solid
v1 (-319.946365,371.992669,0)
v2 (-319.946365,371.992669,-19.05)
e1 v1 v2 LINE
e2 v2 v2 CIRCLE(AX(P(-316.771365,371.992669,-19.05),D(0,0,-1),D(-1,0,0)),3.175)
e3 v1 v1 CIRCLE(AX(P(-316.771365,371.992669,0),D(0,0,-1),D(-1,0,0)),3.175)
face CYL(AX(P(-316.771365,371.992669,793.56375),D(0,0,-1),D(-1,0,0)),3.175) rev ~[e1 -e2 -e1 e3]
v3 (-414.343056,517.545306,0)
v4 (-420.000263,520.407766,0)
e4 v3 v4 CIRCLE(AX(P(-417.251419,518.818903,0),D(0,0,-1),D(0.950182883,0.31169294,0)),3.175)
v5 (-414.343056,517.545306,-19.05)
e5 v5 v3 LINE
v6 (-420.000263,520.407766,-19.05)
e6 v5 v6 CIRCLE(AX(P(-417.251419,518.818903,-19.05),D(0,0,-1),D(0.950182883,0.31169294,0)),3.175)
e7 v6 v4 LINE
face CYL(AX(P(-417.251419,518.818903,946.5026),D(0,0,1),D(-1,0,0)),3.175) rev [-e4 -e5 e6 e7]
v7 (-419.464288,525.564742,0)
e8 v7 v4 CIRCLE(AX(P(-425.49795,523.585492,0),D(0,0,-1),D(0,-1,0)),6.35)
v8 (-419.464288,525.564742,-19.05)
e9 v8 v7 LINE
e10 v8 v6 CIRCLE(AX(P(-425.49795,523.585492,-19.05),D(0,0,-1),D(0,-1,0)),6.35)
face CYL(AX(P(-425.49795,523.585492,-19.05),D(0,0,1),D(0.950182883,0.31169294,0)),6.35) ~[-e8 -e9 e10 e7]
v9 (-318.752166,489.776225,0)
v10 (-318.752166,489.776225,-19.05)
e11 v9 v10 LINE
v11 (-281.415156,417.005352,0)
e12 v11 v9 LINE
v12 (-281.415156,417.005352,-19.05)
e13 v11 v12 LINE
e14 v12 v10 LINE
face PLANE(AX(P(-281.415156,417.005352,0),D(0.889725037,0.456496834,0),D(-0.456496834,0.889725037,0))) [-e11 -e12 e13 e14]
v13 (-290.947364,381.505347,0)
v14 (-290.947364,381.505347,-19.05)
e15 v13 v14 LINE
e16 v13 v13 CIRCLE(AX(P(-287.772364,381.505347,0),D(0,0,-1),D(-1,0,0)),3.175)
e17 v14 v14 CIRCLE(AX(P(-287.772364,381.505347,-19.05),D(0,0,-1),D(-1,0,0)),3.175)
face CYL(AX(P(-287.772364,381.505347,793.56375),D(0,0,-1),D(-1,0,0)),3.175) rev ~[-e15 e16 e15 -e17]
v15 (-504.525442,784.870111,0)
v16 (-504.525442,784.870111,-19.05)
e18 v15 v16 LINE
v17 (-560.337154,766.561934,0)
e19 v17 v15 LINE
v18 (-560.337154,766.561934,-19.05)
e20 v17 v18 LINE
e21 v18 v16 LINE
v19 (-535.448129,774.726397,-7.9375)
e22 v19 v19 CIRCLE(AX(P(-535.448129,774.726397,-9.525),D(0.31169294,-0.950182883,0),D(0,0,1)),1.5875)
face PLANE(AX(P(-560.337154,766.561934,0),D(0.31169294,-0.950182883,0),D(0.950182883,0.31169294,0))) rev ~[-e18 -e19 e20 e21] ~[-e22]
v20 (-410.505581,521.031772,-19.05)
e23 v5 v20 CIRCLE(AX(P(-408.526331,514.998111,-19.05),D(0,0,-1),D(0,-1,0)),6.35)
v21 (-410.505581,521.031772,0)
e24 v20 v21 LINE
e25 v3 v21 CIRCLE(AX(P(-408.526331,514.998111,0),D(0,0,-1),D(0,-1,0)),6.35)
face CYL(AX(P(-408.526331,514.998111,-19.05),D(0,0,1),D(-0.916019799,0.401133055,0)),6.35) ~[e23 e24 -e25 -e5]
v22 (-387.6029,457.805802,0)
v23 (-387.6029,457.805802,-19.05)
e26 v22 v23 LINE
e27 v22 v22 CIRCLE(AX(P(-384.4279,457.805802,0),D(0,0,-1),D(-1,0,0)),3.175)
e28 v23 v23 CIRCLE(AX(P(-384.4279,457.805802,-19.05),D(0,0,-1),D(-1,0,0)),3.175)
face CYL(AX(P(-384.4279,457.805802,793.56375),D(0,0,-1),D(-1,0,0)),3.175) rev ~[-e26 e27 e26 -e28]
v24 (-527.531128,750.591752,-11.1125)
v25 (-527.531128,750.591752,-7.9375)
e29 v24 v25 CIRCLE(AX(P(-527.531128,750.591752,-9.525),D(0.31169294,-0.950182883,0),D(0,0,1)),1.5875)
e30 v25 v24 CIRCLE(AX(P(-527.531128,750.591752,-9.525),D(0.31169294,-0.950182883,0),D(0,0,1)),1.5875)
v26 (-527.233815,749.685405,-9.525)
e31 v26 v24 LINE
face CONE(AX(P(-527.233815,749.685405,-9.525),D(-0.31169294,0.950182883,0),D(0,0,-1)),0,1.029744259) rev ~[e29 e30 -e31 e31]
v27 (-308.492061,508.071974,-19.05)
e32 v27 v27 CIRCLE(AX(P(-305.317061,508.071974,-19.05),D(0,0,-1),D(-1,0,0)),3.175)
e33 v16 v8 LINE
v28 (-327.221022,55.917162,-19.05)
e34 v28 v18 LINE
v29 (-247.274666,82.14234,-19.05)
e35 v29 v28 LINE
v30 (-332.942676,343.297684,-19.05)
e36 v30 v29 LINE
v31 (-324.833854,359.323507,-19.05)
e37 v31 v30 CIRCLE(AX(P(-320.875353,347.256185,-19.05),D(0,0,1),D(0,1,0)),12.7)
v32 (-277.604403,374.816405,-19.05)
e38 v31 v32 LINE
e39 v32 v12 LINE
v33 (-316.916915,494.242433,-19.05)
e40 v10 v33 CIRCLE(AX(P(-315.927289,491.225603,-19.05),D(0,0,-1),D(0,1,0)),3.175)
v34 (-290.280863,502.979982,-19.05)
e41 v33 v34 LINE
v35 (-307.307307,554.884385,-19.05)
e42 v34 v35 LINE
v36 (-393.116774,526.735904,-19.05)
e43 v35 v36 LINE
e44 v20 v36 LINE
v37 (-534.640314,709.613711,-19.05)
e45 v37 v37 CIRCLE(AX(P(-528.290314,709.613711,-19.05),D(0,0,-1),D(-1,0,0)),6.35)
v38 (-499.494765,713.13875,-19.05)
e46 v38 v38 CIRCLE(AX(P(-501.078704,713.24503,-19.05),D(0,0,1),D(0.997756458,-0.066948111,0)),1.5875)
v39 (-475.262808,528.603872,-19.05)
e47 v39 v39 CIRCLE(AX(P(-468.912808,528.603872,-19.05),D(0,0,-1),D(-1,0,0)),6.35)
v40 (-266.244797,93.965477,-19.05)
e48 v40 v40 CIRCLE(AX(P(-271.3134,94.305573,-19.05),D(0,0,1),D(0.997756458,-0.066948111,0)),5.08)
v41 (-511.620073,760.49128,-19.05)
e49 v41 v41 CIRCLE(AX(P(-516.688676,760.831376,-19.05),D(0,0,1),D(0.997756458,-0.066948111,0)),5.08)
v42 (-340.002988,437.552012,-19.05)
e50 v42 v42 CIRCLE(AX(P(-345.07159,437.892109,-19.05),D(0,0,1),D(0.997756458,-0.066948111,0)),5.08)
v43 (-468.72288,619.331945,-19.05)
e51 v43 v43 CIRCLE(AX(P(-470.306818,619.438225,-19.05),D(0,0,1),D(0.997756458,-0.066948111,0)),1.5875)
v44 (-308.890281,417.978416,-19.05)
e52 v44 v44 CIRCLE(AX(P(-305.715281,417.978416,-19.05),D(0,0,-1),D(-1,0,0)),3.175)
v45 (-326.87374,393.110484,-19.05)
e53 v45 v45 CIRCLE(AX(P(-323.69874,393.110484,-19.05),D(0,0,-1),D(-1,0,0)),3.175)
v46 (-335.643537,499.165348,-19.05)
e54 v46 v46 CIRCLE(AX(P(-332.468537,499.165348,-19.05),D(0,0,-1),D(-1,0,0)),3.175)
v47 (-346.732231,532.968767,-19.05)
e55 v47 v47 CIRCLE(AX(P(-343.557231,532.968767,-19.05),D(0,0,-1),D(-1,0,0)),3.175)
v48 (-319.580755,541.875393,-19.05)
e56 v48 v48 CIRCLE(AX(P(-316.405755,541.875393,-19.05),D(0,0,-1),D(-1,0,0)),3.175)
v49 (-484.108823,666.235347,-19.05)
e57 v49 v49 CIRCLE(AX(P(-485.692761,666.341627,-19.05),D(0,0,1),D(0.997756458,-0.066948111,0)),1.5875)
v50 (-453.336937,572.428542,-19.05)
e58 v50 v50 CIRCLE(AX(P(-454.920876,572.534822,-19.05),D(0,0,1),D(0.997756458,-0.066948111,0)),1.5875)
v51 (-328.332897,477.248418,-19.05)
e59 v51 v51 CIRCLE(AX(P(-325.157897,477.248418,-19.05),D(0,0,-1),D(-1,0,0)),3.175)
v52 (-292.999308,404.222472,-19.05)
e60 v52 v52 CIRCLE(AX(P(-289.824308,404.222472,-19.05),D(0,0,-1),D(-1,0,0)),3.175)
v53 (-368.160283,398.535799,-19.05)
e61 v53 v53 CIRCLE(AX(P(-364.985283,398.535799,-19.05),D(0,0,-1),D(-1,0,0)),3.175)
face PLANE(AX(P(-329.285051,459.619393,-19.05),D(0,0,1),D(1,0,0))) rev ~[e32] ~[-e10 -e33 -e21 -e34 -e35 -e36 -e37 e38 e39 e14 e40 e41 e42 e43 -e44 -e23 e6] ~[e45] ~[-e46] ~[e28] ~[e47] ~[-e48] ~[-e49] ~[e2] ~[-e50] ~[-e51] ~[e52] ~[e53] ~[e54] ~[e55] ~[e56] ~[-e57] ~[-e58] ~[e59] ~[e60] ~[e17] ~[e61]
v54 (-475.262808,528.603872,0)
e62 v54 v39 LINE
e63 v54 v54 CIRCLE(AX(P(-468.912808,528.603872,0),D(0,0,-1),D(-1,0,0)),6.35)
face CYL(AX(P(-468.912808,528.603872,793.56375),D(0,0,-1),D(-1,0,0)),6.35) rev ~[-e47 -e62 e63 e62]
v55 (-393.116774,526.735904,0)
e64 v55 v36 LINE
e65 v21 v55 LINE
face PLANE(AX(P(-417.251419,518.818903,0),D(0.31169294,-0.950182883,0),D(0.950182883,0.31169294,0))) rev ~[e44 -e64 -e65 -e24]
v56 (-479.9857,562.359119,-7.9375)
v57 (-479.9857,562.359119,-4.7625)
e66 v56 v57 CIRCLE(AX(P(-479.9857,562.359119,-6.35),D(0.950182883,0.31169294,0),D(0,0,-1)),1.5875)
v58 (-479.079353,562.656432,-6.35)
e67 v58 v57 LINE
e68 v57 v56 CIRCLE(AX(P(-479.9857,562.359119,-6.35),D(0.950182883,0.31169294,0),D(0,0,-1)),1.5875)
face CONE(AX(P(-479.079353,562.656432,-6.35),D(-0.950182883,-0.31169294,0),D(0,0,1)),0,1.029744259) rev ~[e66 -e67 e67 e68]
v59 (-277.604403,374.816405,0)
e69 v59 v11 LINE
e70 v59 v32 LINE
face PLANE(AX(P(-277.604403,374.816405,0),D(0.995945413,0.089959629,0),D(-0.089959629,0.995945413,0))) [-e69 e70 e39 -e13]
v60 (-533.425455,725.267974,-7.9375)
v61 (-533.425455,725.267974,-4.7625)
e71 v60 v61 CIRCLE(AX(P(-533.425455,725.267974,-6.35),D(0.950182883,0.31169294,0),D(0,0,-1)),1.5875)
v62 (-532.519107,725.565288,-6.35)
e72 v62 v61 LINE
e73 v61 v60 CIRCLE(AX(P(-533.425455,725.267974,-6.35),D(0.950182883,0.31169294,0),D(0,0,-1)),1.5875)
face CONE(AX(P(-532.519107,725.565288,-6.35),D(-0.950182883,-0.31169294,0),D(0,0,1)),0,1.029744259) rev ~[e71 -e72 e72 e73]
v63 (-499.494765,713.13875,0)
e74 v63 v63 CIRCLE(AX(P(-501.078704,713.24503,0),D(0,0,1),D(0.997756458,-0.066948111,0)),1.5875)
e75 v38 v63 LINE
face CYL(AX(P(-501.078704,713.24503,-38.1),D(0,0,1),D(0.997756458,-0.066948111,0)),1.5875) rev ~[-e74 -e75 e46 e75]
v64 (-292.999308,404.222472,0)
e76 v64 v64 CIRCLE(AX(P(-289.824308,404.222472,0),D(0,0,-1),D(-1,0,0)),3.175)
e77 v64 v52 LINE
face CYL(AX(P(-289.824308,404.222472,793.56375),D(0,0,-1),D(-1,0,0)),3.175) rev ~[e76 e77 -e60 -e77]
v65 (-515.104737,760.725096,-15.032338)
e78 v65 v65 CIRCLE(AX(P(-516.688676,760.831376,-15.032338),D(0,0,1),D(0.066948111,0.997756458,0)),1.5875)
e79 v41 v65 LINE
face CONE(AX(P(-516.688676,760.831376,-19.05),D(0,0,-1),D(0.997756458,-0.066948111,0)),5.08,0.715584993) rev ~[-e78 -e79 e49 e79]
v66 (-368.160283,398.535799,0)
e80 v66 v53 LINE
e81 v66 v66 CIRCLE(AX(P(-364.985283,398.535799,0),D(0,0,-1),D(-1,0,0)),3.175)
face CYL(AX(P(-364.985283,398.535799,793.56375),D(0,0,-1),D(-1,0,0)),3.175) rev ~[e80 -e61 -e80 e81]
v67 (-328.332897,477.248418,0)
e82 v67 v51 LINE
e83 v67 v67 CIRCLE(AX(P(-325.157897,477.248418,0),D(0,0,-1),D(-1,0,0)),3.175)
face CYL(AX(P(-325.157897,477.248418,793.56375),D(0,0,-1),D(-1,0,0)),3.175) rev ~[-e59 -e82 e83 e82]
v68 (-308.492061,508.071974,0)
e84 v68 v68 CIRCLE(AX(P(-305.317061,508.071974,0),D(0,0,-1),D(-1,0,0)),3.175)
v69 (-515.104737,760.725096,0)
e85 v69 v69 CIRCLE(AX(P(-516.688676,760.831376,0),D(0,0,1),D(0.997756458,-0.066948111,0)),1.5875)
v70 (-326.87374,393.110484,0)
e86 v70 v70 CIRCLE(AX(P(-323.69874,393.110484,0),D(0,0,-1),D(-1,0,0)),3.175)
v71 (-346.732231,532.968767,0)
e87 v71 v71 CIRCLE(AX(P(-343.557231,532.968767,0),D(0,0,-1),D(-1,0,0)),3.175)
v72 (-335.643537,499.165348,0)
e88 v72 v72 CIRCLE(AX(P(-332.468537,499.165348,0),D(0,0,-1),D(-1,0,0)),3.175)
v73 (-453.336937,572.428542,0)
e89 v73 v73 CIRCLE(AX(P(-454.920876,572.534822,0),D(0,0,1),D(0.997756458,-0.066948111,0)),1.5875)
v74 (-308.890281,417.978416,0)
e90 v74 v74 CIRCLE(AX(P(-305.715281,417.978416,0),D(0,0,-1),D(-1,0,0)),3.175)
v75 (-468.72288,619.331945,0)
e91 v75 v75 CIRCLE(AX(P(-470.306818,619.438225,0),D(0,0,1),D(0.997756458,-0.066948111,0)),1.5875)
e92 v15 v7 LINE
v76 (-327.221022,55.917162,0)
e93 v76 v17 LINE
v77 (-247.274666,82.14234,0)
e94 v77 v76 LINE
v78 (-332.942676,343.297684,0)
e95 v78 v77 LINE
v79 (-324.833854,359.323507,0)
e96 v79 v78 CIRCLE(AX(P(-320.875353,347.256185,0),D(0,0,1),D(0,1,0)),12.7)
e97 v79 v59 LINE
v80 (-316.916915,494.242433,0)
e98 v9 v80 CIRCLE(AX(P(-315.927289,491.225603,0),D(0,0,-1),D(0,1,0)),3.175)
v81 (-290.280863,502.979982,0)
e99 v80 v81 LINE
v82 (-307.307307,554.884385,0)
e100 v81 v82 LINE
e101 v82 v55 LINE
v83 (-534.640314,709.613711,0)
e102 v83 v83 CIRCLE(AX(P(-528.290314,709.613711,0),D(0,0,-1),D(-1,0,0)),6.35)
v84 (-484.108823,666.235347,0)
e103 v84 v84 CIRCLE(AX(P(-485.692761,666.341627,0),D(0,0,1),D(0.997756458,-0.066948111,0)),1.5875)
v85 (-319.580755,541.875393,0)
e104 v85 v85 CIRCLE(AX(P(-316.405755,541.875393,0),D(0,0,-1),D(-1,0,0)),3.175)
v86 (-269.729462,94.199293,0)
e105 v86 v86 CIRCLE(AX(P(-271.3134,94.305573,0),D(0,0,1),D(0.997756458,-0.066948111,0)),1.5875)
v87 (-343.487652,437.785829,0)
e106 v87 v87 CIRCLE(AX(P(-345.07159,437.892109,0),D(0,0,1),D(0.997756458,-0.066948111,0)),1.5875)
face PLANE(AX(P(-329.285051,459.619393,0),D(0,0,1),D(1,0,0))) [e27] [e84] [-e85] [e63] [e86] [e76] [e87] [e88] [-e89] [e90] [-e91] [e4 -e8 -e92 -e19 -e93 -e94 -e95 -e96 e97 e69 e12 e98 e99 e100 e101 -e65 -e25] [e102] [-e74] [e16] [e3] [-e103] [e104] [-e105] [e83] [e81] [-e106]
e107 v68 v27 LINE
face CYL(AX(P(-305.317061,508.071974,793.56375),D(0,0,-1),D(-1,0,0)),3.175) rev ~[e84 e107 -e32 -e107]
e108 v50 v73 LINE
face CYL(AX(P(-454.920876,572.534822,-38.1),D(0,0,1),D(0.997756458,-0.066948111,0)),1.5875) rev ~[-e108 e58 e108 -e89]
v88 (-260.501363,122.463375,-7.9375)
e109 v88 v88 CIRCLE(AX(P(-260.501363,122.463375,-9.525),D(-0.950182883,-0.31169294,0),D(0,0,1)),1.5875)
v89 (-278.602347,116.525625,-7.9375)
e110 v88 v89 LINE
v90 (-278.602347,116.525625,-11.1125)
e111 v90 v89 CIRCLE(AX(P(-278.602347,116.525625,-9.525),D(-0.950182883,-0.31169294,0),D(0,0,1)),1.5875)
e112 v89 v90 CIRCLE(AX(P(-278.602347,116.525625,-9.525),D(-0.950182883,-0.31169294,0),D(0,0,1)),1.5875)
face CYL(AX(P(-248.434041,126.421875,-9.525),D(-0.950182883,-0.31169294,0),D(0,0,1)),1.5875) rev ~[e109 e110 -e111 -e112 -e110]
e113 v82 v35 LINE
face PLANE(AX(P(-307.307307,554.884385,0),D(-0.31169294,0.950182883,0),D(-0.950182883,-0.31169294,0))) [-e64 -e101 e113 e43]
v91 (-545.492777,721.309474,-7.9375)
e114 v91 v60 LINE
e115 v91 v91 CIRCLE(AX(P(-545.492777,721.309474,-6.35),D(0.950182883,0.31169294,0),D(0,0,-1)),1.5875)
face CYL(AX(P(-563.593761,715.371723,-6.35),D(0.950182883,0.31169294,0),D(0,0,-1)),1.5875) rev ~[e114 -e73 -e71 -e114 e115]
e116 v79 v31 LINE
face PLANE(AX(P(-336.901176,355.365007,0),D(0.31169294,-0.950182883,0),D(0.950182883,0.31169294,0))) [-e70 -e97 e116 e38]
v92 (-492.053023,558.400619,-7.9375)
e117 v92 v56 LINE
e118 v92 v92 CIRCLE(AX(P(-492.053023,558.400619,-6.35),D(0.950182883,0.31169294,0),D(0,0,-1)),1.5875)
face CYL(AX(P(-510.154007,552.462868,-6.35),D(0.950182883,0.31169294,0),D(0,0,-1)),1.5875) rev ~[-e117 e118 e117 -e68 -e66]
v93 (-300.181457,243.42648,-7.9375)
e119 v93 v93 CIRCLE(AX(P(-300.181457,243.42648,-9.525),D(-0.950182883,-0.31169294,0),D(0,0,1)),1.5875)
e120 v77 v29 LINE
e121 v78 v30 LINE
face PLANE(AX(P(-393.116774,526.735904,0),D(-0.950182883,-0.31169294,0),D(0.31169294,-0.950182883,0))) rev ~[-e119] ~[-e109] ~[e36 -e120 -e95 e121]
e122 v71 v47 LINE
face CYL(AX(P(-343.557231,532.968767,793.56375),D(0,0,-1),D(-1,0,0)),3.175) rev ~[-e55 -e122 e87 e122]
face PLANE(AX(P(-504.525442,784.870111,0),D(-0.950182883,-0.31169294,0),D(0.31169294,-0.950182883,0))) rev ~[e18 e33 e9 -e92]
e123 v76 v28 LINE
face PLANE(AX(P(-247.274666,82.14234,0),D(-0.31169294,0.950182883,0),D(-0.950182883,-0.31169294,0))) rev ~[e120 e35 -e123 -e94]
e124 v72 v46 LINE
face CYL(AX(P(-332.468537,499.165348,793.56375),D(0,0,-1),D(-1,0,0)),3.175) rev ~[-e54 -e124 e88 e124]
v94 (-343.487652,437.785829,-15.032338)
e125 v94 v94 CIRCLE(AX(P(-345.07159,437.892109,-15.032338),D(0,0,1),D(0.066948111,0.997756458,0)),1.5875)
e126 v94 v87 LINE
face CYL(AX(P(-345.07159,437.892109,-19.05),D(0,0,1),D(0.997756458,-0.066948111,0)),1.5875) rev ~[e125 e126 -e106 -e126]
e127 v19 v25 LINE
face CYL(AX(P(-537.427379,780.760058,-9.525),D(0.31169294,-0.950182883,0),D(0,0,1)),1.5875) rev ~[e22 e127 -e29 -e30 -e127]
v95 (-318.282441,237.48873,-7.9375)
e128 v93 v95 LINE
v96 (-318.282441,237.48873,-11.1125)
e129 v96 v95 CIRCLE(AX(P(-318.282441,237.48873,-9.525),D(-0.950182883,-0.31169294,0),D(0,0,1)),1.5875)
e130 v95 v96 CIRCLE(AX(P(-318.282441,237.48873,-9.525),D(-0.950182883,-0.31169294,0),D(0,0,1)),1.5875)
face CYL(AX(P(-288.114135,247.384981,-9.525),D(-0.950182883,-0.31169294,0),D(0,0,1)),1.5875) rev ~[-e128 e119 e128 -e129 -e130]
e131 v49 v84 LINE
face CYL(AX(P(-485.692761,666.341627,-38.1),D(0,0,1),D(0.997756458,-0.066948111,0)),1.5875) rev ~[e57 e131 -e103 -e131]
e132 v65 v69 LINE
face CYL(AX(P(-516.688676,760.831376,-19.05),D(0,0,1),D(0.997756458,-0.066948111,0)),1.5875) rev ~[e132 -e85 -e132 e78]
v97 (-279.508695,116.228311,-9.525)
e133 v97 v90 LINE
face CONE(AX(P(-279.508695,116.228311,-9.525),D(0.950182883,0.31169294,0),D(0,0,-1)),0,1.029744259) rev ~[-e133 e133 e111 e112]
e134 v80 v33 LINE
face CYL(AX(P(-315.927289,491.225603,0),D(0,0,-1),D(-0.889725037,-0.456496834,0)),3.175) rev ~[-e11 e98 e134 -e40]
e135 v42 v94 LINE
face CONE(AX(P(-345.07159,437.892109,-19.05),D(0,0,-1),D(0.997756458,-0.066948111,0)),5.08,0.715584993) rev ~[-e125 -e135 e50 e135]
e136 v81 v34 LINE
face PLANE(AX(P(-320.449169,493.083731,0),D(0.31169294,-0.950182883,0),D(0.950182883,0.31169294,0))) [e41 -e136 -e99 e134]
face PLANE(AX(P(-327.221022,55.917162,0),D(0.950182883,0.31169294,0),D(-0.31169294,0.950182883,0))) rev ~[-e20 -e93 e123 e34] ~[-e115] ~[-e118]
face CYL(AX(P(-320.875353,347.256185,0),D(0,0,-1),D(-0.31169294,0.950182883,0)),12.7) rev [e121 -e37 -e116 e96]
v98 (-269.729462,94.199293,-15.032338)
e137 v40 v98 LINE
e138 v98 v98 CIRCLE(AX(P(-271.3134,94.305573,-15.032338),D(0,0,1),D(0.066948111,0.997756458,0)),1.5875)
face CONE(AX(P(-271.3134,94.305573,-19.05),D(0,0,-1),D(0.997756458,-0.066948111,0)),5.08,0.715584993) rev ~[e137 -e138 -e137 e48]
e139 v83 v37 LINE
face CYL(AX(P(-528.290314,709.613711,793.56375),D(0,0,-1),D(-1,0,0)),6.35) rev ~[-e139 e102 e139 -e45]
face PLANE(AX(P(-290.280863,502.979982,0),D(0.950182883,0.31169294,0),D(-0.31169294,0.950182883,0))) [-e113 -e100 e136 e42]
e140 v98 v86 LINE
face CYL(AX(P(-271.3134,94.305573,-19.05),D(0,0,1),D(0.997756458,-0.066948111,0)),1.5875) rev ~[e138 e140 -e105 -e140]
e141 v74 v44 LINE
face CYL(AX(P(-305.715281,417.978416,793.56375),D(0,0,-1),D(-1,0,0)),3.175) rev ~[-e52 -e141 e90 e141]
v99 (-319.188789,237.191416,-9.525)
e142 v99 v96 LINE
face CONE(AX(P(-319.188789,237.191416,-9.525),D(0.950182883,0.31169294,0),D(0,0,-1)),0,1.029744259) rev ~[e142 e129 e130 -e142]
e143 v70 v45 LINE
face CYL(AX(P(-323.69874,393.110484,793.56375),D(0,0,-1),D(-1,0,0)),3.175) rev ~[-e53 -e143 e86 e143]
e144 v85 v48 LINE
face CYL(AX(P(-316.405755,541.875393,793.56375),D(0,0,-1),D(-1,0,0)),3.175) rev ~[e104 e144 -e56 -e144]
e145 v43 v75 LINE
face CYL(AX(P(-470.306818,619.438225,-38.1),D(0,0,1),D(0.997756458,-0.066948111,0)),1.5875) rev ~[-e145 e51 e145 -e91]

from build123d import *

# Parameters (mm, degrees)
BOSS_EXTRUDE1_DEPTH        = 19.05
BOSS_EXTRUDE2_DEPTH        = 19.05
FILLET1_R                  = 3.175
FILLET2_R                  = 12.7
CUT_EXTRUDE1_DEPTH         = 965.552600368
CUT_EXTRUDE1_DEPTH_BACK    = 965.552600368
SKETCH47_R                 = 3.175
FILLET4_R                  = 6.35
F_0_25_DIAMETER_HOLE1_D    = 6.35
HOLE6_D                    = 3.175
HOLE6_DEPTH                = 38.1
HOLE6_CSINK_D              = 10.16
HOLE6_CSINK_ANGLE          = 82
HOLE6_TIP                  = 0.953866233
HOLE9_D                    = 3.175
HOLE9_DEPTH                = 57.15
HOLE9_CSINK_D              = 10.16
HOLE9_CSINK_ANGLE          = 82
HOLE9_TIP                  = 0.953866233
HOLE14_D                   = 3.175
HOLE14_DEPTH               = 31.75
HOLE14_CSINK_D             = 10.16
HOLE14_CSINK_ANGLE         = 82
HOLE14_TIP                 = 0.953866233
HOLE15_D                   = 3.175
HOLE15_DEPTH               = 31.75
HOLE15_CSINK_D             = 10.16
HOLE15_CSINK_ANGLE         = 82
HOLE15_TIP                 = 0.953866233
HOLE17_D                   = 3.175
HOLE17_DEPTH               = 31.75
HOLE17_CSINK_D             = 10.16
HOLE17_CSINK_ANGLE         = 82
HOLE17_TIP                 = 0.953866233
F_1_2_0_5_DIAMETER_HOLE3_D = 12.7


with BuildPart() as part:
    # Sketch1 → Boss-Extrude1 (new body)
    with BuildSketch(Plane.XY):
        Polygon((-247.274665566, 82.142339986), (-327.22102196, 55.917162383), (-560.337153612, 766.561933763), (-504.525442447, 784.870110692), (-417.251419261, 518.818903446), (-393.116774032, 526.735904121), align=None)
    extrude(amount=-BOSS_EXTRUDE1_DEPTH)

    # Sketch2 → Boss-Extrude2 (add, through all)
    with BuildSketch(Plane.XY):
        Polygon((-393.116774032, 526.735904121), (-336.901176267, 355.36500697), (-277.604402796, 374.816405204), (-281.415155825, 417.005352091), (-320.44916939, 493.083731154), (-290.280862854, 502.979981998), (-307.307307279, 554.884385267), align=None)
    extrude(amount=-BOSS_EXTRUDE2_DEPTH)

    # Fillet1
    fillet1_edges = [part.edges().sort_by_distance(p)[0] for p in [
        (-320.44916939, 493.083731154, -9.525),
    ]]
    fillet(fillet1_edges, radius=FILLET1_R)

    # Fillet2
    fillet2_edges = [part.edges().sort_by_distance(p)[0] for p in [
        (-336.901176267, 355.36500697, -9.525),
    ]]
    fillet(fillet2_edges, radius=FILLET2_R)

    # Sketch47 → Cut-Extrude1 (cut, two sides: drawn at the far end of the back side and taken through both)
    with BuildSketch(Plane(origin=(0, 0, -19.05), x_dir=(-1, 0, 0), z_dir=(0, 0, -1)).offset(-CUT_EXTRUDE1_DEPTH_BACK)):
        with Locations((417.251419261, 518.818903446)):
            Circle(SKETCH47_R)
    extrude(amount=CUT_EXTRUDE1_DEPTH + CUT_EXTRUDE1_DEPTH_BACK, mode=Mode.SUBTRACT)

    # Fillet4
    fillet4_edges = [part.edges().sort_by_distance(p)[0] for p in [
        (-418.241044345, 521.8357341, -9.525),
        (-414.234588607, 519.80852853, -9.525),
    ]]
    fillet(fillet4_edges, radius=FILLET4_R)

    # 0.25_ Diameter Hole1 (through all)
    with Locations(Plane.XY):
        with Locations((-563.45033927, 698.544682362), (-504.072834209, 517.534843147), (-343.557230523, 532.968767209), (-316.40575464, 541.875392969), (-305.317060721, 508.071973621), (-332.468536604, 499.165347862), (-384.427899865, 457.805801818), (-325.157897499, 477.248418201), (-305.715281117, 417.978415836), (-364.985283482, 398.535799453), (-323.698740376, 393.110483865), (-289.824308357, 404.222472403), (-287.772364418, 381.505347156), (-316.771364786, 371.99266929)):
            Hole(F_0_25_DIAMETER_HOLE1_D / 2)

    # Hole6
    with Locations(Plane(origin=(313.774034822, -375.700785937, -19.05), x_dir=(-0.9977564584489054, 0.06694811142592419, 0), z_dir=(0, 0, -1))):
        with Locations((615.24080496, 429.781381762), (710.914924699, 391.126528253), (904.68821492, 1078.38439498), (976.811864753, 1049.244548945), (835.937309391, 717.51890547), (711.83598555, 767.659094962)):
            CounterSinkHole(HOLE6_D / 2, HOLE6_CSINK_D / 2, depth=HOLE6_DEPTH, counter_sink_angle=HOLE6_CSINK_ANGLE)
            with Locations((0, 0, -(HOLE6_DEPTH + HOLE6_TIP / 2))):  # 118° drill point
                Cone(0, HOLE6_D / 2, HOLE6_TIP, mode=Mode.SUBTRACT)

    # Hole9
    with Locations(Plane(origin=(313.774034822, -375.700785937, -38.1), x_dir=(-0.9977564584489054, 0.06694811142592419, 0), z_dir=(0, 0, -1))):
        with Locations((848.944412528, 940.413642522), (885.927448463, 1031.949868564), (867.435930496, 986.181755543), (830.452894561, 894.645529501)):
            CounterSinkHole(HOLE9_D / 2, HOLE9_CSINK_D / 2, depth=HOLE9_DEPTH, counter_sink_angle=HOLE9_CSINK_ANGLE)
            with Locations((0, 0, -(HOLE9_DEPTH + HOLE9_TIP / 2))):  # 118° drill point
                Cone(0, HOLE9_D / 2, HOLE9_TIP, mode=Mode.SUBTRACT)

    # Hole14
    with Locations(Plane(origin=(-45.102820315, -493.424841018, 72.024999997), x_dir=(0, 0, -1), z_dir=(0.9501828830204607, 0.31169293995040287, 1.2726359102629282e-15))):
        with Locations((174.999999994, 685.961004241), (174.999999994, 549.837259632), (174.999999994, 413.713515022), (81.549999997, 779.649723129), (81.549999997, 652.344645962), (62.499999997, 662.953402392), (62.499999997, 769.040966698), (-62.499999997, 769.040966698), (-62.499999997, 662.953402392), (-81.549999997, 652.344645962), (-81.549999997, 779.649723129), (-174.999999994, 413.713515022), (-174.999999994, 549.837259632), (-174.999999994, 685.961004241), (-82.737499997, 600.384620239), (0, 600.384620239), (82.737499997, 600.384620239), (0, 376.737770337), (-82.737499997, 376.737770337), (82.737499997, 376.737770337)):
            CounterSinkHole(HOLE14_D / 2, HOLE14_CSINK_D / 2, depth=HOLE14_DEPTH, counter_sink_angle=HOLE14_CSINK_ANGLE)
            with Locations((0, 0, -(HOLE14_DEPTH + HOLE14_TIP / 2))):  # 118° drill point
                Cone(0, HOLE14_D / 2, HOLE14_TIP, mode=Mode.SUBTRACT)

    # Hole15
    with Locations(Plane(origin=(-155.217483245, -529.546269464, 72.024999997), x_dir=(0, 0, 1), z_dir=(-0.9501828830204603, -0.3116929399504042, -1.2203303954814629e-15))):
        with Locations((-78.374999997, 1310.187770338), (-78.374999997, 1138.737770338), (78.374999997, 1138.737770338), (78.374999997, 1310.187770338)):
            CounterSinkHole(HOLE15_D / 2, HOLE15_CSINK_D / 2, depth=HOLE15_DEPTH, counter_sink_angle=HOLE15_CSINK_ANGLE)
            with Locations((0, 0, -(HOLE15_DEPTH + HOLE15_TIP / 2))):  # 118° drill point
                Cone(0, HOLE15_D / 2, HOLE15_TIP, mode=Mode.SUBTRACT)

    # Hole17
    with Locations(Plane(origin=(-111.425869636, 920.503328092, 72.024999997), x_dir=(0, 0, -1), z_dir=(-0.31169293995040415, 0.9501828830204603, 0))):
        with Locations((81.549999997, 448.336332751), (-81.549999997, 448.336332751)):
            CounterSinkHole(HOLE17_D / 2, HOLE17_CSINK_D / 2, depth=HOLE17_DEPTH, counter_sink_angle=HOLE17_CSINK_ANGLE)
            with Locations((0, 0, -(HOLE17_DEPTH + HOLE17_TIP / 2))):  # 118° drill point
                Cone(0, HOLE17_D / 2, HOLE17_TIP, mode=Mode.SUBTRACT)

    # 1/2 (0.5) Diameter Hole3 (through all)
    with Locations(Plane.XY):
        with Locations((-468.912808487, 528.603872083), (-528.290313547, 709.613711299)):
            Hole(F_1_2_0_5_DIAMETER_HOLE3_D / 2)


solid = part.part
